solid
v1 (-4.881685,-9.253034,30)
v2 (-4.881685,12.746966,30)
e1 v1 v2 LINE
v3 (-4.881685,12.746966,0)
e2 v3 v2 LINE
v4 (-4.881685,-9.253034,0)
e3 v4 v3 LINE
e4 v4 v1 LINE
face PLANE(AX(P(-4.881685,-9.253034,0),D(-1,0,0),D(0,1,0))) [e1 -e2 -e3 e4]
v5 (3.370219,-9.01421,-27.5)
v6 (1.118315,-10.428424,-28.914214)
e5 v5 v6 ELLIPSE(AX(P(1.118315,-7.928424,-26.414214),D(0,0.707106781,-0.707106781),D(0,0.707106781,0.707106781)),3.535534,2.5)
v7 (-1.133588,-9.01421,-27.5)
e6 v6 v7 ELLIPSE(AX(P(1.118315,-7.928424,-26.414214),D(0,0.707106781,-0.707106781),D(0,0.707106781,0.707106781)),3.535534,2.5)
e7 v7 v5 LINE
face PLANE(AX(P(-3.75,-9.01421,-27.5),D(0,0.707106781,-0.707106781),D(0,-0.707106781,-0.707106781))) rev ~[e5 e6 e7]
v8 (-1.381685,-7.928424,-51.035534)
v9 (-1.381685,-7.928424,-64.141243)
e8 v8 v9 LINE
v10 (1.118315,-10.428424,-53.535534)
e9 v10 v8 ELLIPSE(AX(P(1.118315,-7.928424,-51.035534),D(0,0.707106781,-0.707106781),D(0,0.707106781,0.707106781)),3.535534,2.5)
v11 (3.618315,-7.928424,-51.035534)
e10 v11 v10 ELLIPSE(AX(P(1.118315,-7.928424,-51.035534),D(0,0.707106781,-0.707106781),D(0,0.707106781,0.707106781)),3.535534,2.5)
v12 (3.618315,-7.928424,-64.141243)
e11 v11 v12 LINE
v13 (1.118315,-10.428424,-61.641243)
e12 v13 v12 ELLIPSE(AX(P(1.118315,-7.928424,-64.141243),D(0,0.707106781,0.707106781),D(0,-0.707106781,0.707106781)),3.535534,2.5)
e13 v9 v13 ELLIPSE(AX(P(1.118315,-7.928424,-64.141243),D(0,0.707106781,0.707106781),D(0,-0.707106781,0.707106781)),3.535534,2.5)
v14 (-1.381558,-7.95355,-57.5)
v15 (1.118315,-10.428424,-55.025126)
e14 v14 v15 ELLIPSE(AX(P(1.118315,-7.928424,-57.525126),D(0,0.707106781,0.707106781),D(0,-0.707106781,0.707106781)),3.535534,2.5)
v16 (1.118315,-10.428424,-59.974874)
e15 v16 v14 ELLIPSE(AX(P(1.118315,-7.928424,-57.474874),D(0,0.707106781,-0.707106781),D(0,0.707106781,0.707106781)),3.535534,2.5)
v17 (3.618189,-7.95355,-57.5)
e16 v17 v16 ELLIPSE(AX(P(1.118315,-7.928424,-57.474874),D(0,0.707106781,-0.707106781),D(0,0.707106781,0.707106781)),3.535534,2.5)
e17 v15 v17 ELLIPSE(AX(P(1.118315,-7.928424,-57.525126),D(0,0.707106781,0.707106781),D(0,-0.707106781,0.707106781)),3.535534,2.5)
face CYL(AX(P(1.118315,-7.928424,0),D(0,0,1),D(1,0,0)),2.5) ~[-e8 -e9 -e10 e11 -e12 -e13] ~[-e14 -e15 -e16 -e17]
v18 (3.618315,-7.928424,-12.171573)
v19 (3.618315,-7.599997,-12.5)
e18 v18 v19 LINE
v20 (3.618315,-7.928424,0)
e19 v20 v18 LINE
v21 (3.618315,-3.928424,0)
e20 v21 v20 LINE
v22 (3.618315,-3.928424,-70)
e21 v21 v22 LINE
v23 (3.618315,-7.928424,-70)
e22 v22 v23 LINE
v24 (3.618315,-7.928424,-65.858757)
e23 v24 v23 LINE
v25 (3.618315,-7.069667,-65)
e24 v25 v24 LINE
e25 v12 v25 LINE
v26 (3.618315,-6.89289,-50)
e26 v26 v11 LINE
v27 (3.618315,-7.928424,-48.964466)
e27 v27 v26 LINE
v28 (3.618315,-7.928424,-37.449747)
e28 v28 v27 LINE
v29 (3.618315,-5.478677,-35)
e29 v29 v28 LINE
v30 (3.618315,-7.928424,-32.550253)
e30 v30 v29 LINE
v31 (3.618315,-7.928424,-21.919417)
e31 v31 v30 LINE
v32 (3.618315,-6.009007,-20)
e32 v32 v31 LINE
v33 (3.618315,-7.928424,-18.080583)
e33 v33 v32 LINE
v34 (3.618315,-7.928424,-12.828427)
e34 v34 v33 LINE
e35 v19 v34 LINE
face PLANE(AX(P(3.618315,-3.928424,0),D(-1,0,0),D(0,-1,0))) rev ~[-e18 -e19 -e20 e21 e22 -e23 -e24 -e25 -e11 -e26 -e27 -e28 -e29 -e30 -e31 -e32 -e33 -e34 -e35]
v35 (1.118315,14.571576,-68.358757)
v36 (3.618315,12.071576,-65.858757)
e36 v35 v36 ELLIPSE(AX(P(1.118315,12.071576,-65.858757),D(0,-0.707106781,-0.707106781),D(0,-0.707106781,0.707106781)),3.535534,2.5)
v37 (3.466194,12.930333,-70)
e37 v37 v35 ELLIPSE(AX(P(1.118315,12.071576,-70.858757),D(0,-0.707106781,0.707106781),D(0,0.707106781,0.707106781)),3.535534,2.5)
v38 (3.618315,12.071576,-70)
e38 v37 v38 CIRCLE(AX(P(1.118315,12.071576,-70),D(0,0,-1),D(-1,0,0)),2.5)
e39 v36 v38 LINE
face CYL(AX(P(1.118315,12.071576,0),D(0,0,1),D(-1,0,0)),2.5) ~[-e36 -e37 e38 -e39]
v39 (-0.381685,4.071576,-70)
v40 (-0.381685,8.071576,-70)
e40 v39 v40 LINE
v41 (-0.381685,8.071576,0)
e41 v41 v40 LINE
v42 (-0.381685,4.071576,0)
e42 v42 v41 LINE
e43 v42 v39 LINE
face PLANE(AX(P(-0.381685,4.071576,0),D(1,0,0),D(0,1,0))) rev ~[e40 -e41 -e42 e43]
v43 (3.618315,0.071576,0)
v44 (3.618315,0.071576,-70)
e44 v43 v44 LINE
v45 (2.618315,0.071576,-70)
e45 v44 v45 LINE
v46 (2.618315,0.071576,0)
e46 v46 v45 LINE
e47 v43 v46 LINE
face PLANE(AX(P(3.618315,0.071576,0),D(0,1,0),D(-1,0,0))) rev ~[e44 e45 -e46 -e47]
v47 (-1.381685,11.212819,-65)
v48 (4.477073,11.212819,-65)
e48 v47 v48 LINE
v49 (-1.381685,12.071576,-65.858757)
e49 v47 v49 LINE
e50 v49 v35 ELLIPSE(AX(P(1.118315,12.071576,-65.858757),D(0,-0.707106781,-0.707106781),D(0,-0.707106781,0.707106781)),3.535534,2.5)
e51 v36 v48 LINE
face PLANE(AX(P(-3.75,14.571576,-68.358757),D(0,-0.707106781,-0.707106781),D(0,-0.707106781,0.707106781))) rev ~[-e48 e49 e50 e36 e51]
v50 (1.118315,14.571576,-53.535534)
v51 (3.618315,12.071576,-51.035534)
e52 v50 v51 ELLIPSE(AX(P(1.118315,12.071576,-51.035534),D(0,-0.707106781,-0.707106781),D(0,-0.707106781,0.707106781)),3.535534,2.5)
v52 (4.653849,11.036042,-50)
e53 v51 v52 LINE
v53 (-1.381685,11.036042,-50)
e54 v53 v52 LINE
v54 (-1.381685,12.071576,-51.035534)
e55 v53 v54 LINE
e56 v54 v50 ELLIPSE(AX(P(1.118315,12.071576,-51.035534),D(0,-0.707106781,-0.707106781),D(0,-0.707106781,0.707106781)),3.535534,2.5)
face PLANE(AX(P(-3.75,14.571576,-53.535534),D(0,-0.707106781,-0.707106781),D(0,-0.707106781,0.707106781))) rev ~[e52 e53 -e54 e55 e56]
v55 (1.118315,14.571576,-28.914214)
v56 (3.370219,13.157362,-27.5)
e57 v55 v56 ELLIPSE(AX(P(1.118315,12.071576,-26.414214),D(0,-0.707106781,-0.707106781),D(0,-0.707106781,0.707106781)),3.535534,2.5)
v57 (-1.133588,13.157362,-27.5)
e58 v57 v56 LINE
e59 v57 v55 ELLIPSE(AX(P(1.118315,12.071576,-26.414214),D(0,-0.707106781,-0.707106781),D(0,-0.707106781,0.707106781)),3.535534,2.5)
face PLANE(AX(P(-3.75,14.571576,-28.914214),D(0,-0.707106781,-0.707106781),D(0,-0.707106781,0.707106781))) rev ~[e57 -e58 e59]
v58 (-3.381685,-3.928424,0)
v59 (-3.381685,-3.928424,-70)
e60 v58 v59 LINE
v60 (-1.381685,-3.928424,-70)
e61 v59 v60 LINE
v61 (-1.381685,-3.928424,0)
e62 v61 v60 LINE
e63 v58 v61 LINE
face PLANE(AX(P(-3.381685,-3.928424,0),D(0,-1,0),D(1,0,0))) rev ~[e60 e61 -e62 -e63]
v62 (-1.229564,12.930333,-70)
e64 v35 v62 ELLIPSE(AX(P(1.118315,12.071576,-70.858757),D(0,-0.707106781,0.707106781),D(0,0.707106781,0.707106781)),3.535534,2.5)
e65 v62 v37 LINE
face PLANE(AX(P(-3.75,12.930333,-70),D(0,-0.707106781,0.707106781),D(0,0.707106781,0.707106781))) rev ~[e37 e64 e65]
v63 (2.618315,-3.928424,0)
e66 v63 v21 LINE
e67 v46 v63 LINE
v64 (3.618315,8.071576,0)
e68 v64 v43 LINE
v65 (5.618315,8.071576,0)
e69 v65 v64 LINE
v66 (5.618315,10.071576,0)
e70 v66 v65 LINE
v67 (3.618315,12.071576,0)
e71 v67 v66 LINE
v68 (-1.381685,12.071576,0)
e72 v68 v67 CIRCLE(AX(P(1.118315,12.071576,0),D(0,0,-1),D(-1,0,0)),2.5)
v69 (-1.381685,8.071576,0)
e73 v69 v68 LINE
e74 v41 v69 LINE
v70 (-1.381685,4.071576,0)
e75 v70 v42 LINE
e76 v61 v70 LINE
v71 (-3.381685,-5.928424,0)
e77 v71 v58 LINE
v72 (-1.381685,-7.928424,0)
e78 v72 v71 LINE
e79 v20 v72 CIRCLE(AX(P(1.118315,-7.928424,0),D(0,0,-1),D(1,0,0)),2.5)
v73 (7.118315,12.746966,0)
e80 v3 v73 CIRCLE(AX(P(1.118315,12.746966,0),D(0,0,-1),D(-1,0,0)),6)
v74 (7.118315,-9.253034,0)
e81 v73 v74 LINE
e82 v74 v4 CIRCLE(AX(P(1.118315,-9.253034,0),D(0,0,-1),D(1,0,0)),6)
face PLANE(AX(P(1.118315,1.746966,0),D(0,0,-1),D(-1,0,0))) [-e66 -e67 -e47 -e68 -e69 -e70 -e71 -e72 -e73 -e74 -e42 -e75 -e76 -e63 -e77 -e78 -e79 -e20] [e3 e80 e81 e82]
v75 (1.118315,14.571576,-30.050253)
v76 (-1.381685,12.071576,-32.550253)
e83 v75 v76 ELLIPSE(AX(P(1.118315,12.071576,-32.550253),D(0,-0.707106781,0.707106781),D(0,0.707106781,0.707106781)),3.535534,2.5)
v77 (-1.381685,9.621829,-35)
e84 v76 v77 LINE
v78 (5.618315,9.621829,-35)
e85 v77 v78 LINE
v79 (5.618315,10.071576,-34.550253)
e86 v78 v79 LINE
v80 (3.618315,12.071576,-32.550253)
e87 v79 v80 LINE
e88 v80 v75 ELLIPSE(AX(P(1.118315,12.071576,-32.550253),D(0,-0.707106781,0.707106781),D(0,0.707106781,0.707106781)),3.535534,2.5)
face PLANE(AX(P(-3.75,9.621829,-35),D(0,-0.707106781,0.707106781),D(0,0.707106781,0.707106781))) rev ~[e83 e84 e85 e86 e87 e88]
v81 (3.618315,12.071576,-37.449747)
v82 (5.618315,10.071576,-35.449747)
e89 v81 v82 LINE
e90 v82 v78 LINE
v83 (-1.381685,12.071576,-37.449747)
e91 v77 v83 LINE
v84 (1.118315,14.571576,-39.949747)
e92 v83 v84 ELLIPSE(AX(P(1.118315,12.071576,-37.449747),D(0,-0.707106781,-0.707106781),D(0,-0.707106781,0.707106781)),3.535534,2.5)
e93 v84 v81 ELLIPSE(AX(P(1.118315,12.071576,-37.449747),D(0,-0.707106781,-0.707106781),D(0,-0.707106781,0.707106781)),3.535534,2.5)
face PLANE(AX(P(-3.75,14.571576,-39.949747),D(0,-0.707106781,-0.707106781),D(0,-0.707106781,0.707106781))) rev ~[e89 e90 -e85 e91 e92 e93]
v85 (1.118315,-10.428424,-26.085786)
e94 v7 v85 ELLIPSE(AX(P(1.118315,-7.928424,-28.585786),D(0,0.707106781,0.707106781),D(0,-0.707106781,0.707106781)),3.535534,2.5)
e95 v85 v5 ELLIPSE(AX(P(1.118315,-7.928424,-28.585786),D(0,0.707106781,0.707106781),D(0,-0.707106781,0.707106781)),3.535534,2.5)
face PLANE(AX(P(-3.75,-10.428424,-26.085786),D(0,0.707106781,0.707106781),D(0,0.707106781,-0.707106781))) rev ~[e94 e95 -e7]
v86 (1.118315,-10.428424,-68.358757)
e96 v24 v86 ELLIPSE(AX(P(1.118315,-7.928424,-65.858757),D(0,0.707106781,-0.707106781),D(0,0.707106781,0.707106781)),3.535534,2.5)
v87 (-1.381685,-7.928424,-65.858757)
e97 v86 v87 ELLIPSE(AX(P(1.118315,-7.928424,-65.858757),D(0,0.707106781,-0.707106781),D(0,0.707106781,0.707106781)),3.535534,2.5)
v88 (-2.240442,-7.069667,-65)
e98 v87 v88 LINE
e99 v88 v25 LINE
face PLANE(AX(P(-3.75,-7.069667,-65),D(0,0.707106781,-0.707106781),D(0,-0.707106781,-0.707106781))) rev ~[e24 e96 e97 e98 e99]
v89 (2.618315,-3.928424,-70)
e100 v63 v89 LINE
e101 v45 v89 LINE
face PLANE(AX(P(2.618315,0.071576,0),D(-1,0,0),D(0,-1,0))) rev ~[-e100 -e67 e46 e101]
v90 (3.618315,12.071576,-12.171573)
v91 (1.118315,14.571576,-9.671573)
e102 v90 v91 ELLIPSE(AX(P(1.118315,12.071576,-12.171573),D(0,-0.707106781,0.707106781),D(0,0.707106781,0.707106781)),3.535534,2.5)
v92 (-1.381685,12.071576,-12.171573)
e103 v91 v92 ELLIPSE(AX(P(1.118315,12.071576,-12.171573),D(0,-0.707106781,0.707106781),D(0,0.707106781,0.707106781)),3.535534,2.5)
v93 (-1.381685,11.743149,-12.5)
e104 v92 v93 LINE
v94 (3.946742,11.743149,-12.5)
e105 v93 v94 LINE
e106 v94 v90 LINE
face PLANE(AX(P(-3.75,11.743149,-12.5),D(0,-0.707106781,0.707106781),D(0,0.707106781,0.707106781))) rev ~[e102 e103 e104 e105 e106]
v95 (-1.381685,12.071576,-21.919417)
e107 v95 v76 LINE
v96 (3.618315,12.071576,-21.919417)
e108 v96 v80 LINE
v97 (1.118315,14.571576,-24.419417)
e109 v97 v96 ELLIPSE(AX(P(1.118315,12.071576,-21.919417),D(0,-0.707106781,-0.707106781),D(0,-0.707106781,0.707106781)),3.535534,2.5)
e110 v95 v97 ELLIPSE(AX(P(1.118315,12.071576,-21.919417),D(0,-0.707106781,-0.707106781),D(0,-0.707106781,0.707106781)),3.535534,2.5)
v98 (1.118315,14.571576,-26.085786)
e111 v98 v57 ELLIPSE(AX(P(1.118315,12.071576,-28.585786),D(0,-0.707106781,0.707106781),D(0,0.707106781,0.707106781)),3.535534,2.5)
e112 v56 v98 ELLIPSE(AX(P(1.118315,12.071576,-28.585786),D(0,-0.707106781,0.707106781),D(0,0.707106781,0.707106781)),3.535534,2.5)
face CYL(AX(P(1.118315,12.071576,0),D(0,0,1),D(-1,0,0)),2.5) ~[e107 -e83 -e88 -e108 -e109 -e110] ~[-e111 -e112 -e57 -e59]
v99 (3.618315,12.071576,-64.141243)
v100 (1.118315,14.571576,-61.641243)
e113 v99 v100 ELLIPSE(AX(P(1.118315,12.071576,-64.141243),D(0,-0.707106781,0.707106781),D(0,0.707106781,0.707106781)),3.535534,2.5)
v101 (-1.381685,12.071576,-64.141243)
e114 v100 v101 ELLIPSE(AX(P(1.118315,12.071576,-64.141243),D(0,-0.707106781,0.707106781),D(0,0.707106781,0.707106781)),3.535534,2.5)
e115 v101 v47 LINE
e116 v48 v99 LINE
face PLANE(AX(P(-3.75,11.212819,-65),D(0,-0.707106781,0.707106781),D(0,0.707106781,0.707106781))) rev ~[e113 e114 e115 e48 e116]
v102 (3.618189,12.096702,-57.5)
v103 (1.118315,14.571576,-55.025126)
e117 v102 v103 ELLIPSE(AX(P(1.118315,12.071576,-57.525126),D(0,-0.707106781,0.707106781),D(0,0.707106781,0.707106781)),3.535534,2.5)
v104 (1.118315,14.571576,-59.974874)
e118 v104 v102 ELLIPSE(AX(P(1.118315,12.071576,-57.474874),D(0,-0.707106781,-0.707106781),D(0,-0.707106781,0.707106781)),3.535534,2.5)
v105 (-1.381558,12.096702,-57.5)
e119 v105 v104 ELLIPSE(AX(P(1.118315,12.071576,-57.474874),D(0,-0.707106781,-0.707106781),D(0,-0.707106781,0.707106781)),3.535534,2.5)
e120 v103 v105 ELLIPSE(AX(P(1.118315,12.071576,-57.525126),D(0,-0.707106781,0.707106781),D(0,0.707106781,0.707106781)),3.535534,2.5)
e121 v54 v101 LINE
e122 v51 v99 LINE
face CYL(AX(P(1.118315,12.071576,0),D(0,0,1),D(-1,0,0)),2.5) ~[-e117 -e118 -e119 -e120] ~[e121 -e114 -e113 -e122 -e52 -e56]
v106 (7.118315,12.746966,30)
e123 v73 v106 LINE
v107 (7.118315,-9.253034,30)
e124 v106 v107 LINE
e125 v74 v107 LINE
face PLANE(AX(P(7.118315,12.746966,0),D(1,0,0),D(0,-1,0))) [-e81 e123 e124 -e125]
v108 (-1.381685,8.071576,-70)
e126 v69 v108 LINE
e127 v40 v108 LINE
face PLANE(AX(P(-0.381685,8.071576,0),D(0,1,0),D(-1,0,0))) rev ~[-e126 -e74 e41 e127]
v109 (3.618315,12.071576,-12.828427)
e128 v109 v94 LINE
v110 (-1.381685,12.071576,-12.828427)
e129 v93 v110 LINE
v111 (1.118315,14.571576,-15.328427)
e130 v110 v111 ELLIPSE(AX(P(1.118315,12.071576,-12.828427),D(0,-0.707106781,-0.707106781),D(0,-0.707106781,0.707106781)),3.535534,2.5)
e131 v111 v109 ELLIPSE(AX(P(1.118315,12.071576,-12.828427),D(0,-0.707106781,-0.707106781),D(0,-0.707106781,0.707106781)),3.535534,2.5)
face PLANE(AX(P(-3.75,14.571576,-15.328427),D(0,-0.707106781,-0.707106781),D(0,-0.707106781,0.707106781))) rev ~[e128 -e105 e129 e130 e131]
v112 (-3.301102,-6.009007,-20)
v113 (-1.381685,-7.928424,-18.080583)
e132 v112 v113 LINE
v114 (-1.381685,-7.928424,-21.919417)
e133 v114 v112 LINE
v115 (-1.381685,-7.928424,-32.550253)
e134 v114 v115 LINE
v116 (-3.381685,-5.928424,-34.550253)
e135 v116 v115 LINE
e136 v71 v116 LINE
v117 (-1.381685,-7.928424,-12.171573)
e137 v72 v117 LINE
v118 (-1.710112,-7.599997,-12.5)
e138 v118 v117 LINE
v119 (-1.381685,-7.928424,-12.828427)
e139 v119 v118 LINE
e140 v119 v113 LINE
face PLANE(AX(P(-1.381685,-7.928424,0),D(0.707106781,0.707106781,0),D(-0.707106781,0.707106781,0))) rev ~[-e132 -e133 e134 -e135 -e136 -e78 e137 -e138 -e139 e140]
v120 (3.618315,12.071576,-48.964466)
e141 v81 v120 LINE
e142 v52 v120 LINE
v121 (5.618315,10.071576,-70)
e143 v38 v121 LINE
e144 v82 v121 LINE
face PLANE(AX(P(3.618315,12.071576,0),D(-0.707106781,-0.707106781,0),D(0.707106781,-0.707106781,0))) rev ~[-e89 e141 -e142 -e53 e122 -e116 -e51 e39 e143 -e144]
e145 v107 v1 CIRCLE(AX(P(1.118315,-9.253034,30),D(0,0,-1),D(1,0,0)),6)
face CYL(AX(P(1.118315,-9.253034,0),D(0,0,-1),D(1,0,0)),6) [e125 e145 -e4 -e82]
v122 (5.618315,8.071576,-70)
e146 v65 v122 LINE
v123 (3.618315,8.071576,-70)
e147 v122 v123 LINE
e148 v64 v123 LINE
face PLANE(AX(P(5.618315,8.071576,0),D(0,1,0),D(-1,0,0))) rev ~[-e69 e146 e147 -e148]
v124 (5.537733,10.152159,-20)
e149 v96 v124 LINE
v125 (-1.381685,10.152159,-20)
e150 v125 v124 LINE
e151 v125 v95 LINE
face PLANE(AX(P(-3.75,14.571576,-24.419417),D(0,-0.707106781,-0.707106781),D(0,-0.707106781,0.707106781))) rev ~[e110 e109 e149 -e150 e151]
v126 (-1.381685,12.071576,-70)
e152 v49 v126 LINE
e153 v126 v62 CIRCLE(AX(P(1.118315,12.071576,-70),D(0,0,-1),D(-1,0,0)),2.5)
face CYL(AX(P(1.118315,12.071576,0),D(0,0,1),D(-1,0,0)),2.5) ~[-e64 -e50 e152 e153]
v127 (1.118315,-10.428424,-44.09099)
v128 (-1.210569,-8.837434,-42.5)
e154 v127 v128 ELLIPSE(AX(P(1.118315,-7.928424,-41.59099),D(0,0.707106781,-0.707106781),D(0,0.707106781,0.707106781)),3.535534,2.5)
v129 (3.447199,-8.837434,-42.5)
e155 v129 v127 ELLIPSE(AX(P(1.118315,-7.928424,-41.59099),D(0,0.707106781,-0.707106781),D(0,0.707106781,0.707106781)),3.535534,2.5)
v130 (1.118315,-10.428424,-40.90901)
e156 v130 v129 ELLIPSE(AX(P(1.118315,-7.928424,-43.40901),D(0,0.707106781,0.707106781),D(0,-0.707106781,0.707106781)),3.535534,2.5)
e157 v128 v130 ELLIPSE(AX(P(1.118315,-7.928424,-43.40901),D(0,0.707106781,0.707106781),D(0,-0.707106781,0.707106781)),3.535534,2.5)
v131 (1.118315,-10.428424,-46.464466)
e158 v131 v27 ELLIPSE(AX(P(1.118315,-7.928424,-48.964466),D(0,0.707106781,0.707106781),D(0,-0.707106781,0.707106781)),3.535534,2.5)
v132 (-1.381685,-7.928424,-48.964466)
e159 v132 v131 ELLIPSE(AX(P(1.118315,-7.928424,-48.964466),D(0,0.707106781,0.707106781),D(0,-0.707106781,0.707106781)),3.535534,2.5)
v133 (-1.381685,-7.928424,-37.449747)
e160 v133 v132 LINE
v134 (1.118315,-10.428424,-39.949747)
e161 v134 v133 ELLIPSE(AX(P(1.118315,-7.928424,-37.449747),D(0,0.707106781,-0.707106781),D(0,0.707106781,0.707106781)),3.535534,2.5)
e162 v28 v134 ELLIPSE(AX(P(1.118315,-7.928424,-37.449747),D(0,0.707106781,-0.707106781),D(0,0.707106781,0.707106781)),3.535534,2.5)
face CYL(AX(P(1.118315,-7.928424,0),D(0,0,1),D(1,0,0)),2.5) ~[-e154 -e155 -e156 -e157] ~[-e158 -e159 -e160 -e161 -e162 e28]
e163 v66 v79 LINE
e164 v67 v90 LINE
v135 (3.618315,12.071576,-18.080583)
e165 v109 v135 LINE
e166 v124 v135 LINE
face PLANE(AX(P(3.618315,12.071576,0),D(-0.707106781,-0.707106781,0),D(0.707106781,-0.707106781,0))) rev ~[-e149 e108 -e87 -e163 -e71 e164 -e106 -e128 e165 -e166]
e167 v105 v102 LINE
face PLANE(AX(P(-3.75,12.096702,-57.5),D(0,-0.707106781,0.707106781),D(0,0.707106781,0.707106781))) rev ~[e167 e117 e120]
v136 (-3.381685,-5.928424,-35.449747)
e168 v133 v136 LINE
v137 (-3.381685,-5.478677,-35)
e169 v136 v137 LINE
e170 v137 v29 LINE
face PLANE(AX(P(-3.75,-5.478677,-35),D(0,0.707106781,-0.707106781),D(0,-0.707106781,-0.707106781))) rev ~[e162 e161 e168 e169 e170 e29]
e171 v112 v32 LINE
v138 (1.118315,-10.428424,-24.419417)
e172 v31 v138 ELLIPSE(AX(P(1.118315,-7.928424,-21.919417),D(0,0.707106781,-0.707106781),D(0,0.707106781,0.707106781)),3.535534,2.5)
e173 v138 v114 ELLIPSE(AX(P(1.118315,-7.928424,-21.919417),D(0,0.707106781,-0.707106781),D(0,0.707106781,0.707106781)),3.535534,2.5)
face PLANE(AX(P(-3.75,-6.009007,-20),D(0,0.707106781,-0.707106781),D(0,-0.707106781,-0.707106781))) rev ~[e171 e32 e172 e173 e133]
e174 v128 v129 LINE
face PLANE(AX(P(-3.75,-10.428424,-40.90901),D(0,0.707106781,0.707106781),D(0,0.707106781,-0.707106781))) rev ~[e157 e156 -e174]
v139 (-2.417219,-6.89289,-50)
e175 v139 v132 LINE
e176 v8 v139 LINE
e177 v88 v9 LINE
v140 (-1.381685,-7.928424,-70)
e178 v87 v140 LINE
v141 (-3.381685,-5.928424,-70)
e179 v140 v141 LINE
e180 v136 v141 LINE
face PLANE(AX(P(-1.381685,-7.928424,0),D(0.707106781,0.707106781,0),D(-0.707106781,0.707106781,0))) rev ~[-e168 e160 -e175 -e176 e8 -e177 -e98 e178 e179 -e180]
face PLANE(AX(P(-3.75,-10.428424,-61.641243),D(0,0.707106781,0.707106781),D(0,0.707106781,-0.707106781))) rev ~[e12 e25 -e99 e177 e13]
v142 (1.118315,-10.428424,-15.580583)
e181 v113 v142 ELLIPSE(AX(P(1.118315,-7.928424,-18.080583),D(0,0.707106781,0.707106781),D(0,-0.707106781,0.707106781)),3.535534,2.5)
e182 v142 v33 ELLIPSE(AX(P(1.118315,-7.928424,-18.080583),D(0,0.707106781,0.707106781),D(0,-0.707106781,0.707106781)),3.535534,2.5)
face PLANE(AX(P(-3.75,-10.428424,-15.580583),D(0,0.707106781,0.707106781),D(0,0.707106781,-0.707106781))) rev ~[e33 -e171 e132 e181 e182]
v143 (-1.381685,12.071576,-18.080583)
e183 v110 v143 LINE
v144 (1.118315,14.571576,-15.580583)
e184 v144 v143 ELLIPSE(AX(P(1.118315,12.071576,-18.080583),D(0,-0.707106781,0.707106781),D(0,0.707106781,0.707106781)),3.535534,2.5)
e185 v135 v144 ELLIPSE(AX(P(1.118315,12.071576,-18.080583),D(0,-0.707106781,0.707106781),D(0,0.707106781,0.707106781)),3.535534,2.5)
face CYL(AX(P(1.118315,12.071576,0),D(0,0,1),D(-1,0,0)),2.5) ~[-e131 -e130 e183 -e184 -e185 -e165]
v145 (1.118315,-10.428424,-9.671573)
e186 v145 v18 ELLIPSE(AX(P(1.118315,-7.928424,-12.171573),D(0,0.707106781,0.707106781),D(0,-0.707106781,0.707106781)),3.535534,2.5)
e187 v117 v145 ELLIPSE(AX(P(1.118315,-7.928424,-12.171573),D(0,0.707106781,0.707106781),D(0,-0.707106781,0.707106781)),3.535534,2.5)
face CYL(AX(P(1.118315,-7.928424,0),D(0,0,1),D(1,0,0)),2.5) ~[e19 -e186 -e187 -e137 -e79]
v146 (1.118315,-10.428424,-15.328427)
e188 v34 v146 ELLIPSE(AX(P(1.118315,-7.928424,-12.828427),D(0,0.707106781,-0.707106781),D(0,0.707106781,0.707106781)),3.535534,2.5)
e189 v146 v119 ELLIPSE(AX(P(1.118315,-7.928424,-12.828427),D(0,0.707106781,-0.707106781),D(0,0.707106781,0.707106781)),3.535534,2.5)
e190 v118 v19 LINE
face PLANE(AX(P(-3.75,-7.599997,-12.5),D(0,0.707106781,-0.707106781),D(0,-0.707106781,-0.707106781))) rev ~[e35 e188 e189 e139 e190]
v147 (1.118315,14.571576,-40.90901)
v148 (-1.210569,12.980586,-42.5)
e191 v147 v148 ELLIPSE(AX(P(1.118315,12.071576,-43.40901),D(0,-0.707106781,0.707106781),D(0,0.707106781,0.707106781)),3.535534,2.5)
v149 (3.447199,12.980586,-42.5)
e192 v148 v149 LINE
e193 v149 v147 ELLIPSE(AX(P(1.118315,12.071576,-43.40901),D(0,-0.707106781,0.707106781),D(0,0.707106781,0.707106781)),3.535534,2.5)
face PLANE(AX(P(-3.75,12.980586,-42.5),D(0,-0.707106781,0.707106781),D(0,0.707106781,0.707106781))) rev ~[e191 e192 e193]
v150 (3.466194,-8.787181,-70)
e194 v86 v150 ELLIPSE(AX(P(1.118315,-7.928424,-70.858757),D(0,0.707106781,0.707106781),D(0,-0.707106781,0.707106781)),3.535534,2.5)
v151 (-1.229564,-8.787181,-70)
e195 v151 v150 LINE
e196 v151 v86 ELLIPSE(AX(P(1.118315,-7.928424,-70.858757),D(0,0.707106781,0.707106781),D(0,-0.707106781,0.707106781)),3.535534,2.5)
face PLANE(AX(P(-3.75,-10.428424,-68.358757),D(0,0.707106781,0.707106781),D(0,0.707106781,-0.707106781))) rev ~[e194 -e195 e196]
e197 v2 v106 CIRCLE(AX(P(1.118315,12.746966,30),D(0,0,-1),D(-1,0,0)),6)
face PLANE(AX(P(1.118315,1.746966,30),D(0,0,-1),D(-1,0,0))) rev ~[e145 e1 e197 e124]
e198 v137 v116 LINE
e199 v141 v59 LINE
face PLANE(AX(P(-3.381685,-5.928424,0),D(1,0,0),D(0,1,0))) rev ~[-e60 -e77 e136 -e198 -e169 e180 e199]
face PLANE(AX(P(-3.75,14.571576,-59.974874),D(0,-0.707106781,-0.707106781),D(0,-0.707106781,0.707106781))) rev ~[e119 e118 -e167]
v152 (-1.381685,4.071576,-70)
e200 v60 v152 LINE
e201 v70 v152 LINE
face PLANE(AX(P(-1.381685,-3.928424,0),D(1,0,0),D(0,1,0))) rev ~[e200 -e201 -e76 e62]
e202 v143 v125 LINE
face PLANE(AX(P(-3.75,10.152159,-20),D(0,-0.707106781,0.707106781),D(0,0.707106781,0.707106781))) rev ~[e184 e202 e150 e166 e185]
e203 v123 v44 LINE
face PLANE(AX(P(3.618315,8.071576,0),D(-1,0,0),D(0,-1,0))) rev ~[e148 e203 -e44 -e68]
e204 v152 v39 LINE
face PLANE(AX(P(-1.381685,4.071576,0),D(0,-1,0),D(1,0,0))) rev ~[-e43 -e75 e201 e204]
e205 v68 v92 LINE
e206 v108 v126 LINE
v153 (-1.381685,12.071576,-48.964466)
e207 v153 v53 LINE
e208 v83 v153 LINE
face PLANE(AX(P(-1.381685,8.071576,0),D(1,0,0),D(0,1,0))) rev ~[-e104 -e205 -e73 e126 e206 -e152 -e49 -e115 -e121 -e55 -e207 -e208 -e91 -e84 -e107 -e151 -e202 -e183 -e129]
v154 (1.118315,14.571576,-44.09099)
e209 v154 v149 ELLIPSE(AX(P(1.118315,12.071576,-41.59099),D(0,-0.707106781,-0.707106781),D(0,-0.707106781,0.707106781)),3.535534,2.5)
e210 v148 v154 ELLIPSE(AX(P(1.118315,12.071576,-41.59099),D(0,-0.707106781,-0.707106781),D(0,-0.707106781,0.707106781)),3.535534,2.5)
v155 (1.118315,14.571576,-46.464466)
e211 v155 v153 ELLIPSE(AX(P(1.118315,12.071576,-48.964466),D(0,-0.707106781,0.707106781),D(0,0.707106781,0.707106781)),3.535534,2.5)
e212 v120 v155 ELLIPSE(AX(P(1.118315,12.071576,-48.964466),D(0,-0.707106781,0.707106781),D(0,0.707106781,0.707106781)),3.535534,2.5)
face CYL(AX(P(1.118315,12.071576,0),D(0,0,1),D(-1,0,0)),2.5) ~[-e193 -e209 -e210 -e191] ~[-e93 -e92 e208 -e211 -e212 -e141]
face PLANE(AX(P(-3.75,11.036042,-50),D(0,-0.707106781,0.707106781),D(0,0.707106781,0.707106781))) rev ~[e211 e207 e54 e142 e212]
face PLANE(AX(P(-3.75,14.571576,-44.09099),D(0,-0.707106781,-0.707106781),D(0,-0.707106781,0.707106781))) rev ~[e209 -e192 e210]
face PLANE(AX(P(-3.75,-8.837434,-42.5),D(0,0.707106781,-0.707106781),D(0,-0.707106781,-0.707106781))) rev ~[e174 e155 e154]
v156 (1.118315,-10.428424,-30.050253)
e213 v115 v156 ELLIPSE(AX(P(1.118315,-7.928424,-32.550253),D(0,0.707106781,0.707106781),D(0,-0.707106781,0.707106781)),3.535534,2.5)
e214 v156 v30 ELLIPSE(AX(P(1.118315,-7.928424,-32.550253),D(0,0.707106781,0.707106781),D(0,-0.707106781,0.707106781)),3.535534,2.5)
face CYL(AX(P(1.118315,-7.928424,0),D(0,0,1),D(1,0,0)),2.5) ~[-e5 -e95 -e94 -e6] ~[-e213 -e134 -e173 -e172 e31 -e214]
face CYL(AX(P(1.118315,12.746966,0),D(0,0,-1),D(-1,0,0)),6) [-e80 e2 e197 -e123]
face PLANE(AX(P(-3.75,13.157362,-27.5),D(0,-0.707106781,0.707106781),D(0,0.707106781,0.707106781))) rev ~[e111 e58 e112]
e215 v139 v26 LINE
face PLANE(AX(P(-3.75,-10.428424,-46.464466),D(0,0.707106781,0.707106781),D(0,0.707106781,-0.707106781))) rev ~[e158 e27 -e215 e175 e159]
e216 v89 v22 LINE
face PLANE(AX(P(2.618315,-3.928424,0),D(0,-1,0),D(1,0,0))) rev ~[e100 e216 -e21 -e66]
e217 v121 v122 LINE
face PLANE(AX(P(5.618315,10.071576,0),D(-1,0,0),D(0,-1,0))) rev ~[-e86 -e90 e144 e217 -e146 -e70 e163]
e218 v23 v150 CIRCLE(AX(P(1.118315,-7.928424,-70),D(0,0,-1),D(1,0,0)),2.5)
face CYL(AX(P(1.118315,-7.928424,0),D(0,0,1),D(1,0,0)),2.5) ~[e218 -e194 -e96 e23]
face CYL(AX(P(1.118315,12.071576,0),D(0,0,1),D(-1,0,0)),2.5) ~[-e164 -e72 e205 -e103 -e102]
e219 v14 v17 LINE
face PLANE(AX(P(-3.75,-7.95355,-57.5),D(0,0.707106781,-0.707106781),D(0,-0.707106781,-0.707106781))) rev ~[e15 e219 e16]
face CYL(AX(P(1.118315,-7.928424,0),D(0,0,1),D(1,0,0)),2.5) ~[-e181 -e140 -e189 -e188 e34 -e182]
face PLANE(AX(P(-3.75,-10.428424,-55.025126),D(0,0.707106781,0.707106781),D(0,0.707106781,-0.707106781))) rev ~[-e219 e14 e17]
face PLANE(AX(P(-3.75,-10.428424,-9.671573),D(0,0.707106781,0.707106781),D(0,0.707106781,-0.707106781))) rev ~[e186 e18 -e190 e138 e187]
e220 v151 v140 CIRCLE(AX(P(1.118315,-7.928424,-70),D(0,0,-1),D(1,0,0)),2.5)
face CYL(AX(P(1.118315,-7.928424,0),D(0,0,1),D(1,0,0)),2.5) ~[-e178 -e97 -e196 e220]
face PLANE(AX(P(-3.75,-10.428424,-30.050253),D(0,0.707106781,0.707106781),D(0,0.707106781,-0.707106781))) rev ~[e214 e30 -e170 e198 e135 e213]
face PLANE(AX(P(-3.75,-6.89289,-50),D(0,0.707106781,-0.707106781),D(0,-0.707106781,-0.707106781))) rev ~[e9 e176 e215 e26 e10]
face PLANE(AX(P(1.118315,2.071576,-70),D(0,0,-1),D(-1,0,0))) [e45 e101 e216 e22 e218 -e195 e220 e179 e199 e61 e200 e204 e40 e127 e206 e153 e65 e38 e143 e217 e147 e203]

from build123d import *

# Parameters (mm, degrees)
KEY_MAIN_EXTURSION_DEPTH = 70
KEY_HANDLE_DEPTH         = 30
KEY_CUT_DEPTH            = 74.277343039


with BuildPart() as part:
    # Szkic1 → key-main-extursion (new body)
    with BuildSketch(Plane.XY):
        with BuildLine():
            Line((-1.381684649, -3.928424018), (-1.381684649, 4.071575982))
            Line((-1.381684649, 4.071575982), (-0.381684649, 4.071575982))
            Line((-0.381684649, 4.071575982), (-0.381684649, 8.071575982))
            Line((-0.381684649, 8.071575982), (-1.381684649, 8.071575982))
            Line((-1.381684649, 8.071575982), (-1.381684649, 12.071575982))
            ThreePointArc((-1.381684649, 12.071575982), (1.118315351, 14.571575982), (3.618315351, 12.071575982))
            Line((3.618315351, 12.071575982), (5.618315351, 10.071575982))
            Line((5.618315351, 10.071575982), (5.618315351, 8.071575982))
            Line((5.618315351, 8.071575982), (3.618315351, 8.071575982))
            Line((3.618315351, 8.071575982), (3.618315351, 0.071575982))
            Line((3.618315351, 0.071575982), (2.618315351, 0.071575982))
            Line((2.618315351, 0.071575982), (2.618315351, -3.928424018))
            Line((2.618315351, -3.928424018), (3.618315351, -3.928424018))
            Line((3.618315351, -3.928424018), (3.618315351, -7.928424018))
            ThreePointArc((3.618315351, -7.928424018), (1.118315351, -10.428424018), (-1.381684649, -7.928424018))
            Line((-1.381684649, -7.928424018), (-3.381684649, -5.928424018))
            Line((-3.381684649, -5.928424018), (-3.381684649, -3.928424018))
            Line((-3.381684649, -3.928424018), (-1.381684649, -3.928424018))
        make_face()
    extrude(amount=-KEY_MAIN_EXTURSION_DEPTH)

    # key-handle-sketch → key-handle (add)
    with BuildSketch(Plane.XY):
        with BuildLine():
            Line((-4.881684649, -9.253034266), (-4.881684649, 12.746965734))
            ThreePointArc((-4.881684649, 12.746965734), (1.118315351, 18.746965734), (7.118315351, 12.746965734))
            Line((7.118315351, 12.746965734), (7.118315351, -9.253034266))
            ThreePointArc((7.118315351, -9.253034266), (1.118315351, -15.253034266), (-4.881684649, -9.253034266))
        make_face()
    extrude(amount=KEY_HANDLE_DEPTH)

    # Szkic5 → key-cut (cut, through all)
    with BuildSketch(Plane.ZY.offset(3.75)):
        Polygon((-9.671572875, 14.571575982), (-15.328427125, 14.571575982), (-12.5, 11.743148857), align=None)
        Polygon((-15.580582618, 14.571575982), (-24.419417382, 14.571575982), (-20, 10.1521586), align=None)
        Polygon((-26.085786438, 14.571575982), (-28.914213562, 14.571575982), (-27.5, 13.15736242), align=None)
        Polygon((-30.050252532, 14.571575982), (-39.949747468, 14.571575982), (-35, 9.621828514), align=None)
        Polygon((-40.909009742, 14.571575982), (-44.090990258, 14.571575982), (-42.5, 12.980585724), align=None)
        Polygon((-46.464466094, 14.571575982), (-53.535533906, 14.571575982), (-50, 11.036042076), align=None)
        Polygon((-55.025126266, 14.571575982), (-59.974873734, 14.571575982), (-57.5, 12.096702248), align=None)
        Polygon((-61.641242789, 14.571575982), (-68.358757211, 14.571575982), (-65, 11.212818771), align=None)
        Polygon((-68.358757211, 14.571575982), (-70, 14.571575982), (-70, 12.930333193), align=None)
        Polygon((-70, -8.787181229), (-70, -10.428424018), (-68.358757211, -10.428424018), align=None)
        Polygon((-12.5, -7.599996893), (-15.328427125, -10.428424018), (-9.671572875, -10.428424018), align=None)
        Polygon((-20, -6.009006636), (-24.419417382, -10.428424018), (-15.580582618, -10.428424018), align=None)
        Polygon((-27.5, -9.014210456), (-28.914213562, -10.428424018), (-26.085786438, -10.428424018), align=None)
        Polygon((-35, -5.47867655), (-39.949747468, -10.428424018), (-30.050252532, -10.428424018), align=None)
        Polygon((-42.5, -8.83743376), (-44.090990258, -10.428424018), (-40.909009742, -10.428424018), align=None)
        Polygon((-50, -6.892890112), (-53.535533906, -10.428424018), (-46.464466094, -10.428424018), align=None)
        Polygon((-57.5, -7.953550284), (-59.974873734, -10.428424018), (-55.025126266, -10.428424018), align=None)
        Polygon((-65, -7.069666807), (-68.358757211, -10.428424018), (-61.641242789, -10.428424018), align=None)
    extrude(amount=-KEY_CUT_DEPTH, mode=Mode.SUBTRACT)


solid = part.part
